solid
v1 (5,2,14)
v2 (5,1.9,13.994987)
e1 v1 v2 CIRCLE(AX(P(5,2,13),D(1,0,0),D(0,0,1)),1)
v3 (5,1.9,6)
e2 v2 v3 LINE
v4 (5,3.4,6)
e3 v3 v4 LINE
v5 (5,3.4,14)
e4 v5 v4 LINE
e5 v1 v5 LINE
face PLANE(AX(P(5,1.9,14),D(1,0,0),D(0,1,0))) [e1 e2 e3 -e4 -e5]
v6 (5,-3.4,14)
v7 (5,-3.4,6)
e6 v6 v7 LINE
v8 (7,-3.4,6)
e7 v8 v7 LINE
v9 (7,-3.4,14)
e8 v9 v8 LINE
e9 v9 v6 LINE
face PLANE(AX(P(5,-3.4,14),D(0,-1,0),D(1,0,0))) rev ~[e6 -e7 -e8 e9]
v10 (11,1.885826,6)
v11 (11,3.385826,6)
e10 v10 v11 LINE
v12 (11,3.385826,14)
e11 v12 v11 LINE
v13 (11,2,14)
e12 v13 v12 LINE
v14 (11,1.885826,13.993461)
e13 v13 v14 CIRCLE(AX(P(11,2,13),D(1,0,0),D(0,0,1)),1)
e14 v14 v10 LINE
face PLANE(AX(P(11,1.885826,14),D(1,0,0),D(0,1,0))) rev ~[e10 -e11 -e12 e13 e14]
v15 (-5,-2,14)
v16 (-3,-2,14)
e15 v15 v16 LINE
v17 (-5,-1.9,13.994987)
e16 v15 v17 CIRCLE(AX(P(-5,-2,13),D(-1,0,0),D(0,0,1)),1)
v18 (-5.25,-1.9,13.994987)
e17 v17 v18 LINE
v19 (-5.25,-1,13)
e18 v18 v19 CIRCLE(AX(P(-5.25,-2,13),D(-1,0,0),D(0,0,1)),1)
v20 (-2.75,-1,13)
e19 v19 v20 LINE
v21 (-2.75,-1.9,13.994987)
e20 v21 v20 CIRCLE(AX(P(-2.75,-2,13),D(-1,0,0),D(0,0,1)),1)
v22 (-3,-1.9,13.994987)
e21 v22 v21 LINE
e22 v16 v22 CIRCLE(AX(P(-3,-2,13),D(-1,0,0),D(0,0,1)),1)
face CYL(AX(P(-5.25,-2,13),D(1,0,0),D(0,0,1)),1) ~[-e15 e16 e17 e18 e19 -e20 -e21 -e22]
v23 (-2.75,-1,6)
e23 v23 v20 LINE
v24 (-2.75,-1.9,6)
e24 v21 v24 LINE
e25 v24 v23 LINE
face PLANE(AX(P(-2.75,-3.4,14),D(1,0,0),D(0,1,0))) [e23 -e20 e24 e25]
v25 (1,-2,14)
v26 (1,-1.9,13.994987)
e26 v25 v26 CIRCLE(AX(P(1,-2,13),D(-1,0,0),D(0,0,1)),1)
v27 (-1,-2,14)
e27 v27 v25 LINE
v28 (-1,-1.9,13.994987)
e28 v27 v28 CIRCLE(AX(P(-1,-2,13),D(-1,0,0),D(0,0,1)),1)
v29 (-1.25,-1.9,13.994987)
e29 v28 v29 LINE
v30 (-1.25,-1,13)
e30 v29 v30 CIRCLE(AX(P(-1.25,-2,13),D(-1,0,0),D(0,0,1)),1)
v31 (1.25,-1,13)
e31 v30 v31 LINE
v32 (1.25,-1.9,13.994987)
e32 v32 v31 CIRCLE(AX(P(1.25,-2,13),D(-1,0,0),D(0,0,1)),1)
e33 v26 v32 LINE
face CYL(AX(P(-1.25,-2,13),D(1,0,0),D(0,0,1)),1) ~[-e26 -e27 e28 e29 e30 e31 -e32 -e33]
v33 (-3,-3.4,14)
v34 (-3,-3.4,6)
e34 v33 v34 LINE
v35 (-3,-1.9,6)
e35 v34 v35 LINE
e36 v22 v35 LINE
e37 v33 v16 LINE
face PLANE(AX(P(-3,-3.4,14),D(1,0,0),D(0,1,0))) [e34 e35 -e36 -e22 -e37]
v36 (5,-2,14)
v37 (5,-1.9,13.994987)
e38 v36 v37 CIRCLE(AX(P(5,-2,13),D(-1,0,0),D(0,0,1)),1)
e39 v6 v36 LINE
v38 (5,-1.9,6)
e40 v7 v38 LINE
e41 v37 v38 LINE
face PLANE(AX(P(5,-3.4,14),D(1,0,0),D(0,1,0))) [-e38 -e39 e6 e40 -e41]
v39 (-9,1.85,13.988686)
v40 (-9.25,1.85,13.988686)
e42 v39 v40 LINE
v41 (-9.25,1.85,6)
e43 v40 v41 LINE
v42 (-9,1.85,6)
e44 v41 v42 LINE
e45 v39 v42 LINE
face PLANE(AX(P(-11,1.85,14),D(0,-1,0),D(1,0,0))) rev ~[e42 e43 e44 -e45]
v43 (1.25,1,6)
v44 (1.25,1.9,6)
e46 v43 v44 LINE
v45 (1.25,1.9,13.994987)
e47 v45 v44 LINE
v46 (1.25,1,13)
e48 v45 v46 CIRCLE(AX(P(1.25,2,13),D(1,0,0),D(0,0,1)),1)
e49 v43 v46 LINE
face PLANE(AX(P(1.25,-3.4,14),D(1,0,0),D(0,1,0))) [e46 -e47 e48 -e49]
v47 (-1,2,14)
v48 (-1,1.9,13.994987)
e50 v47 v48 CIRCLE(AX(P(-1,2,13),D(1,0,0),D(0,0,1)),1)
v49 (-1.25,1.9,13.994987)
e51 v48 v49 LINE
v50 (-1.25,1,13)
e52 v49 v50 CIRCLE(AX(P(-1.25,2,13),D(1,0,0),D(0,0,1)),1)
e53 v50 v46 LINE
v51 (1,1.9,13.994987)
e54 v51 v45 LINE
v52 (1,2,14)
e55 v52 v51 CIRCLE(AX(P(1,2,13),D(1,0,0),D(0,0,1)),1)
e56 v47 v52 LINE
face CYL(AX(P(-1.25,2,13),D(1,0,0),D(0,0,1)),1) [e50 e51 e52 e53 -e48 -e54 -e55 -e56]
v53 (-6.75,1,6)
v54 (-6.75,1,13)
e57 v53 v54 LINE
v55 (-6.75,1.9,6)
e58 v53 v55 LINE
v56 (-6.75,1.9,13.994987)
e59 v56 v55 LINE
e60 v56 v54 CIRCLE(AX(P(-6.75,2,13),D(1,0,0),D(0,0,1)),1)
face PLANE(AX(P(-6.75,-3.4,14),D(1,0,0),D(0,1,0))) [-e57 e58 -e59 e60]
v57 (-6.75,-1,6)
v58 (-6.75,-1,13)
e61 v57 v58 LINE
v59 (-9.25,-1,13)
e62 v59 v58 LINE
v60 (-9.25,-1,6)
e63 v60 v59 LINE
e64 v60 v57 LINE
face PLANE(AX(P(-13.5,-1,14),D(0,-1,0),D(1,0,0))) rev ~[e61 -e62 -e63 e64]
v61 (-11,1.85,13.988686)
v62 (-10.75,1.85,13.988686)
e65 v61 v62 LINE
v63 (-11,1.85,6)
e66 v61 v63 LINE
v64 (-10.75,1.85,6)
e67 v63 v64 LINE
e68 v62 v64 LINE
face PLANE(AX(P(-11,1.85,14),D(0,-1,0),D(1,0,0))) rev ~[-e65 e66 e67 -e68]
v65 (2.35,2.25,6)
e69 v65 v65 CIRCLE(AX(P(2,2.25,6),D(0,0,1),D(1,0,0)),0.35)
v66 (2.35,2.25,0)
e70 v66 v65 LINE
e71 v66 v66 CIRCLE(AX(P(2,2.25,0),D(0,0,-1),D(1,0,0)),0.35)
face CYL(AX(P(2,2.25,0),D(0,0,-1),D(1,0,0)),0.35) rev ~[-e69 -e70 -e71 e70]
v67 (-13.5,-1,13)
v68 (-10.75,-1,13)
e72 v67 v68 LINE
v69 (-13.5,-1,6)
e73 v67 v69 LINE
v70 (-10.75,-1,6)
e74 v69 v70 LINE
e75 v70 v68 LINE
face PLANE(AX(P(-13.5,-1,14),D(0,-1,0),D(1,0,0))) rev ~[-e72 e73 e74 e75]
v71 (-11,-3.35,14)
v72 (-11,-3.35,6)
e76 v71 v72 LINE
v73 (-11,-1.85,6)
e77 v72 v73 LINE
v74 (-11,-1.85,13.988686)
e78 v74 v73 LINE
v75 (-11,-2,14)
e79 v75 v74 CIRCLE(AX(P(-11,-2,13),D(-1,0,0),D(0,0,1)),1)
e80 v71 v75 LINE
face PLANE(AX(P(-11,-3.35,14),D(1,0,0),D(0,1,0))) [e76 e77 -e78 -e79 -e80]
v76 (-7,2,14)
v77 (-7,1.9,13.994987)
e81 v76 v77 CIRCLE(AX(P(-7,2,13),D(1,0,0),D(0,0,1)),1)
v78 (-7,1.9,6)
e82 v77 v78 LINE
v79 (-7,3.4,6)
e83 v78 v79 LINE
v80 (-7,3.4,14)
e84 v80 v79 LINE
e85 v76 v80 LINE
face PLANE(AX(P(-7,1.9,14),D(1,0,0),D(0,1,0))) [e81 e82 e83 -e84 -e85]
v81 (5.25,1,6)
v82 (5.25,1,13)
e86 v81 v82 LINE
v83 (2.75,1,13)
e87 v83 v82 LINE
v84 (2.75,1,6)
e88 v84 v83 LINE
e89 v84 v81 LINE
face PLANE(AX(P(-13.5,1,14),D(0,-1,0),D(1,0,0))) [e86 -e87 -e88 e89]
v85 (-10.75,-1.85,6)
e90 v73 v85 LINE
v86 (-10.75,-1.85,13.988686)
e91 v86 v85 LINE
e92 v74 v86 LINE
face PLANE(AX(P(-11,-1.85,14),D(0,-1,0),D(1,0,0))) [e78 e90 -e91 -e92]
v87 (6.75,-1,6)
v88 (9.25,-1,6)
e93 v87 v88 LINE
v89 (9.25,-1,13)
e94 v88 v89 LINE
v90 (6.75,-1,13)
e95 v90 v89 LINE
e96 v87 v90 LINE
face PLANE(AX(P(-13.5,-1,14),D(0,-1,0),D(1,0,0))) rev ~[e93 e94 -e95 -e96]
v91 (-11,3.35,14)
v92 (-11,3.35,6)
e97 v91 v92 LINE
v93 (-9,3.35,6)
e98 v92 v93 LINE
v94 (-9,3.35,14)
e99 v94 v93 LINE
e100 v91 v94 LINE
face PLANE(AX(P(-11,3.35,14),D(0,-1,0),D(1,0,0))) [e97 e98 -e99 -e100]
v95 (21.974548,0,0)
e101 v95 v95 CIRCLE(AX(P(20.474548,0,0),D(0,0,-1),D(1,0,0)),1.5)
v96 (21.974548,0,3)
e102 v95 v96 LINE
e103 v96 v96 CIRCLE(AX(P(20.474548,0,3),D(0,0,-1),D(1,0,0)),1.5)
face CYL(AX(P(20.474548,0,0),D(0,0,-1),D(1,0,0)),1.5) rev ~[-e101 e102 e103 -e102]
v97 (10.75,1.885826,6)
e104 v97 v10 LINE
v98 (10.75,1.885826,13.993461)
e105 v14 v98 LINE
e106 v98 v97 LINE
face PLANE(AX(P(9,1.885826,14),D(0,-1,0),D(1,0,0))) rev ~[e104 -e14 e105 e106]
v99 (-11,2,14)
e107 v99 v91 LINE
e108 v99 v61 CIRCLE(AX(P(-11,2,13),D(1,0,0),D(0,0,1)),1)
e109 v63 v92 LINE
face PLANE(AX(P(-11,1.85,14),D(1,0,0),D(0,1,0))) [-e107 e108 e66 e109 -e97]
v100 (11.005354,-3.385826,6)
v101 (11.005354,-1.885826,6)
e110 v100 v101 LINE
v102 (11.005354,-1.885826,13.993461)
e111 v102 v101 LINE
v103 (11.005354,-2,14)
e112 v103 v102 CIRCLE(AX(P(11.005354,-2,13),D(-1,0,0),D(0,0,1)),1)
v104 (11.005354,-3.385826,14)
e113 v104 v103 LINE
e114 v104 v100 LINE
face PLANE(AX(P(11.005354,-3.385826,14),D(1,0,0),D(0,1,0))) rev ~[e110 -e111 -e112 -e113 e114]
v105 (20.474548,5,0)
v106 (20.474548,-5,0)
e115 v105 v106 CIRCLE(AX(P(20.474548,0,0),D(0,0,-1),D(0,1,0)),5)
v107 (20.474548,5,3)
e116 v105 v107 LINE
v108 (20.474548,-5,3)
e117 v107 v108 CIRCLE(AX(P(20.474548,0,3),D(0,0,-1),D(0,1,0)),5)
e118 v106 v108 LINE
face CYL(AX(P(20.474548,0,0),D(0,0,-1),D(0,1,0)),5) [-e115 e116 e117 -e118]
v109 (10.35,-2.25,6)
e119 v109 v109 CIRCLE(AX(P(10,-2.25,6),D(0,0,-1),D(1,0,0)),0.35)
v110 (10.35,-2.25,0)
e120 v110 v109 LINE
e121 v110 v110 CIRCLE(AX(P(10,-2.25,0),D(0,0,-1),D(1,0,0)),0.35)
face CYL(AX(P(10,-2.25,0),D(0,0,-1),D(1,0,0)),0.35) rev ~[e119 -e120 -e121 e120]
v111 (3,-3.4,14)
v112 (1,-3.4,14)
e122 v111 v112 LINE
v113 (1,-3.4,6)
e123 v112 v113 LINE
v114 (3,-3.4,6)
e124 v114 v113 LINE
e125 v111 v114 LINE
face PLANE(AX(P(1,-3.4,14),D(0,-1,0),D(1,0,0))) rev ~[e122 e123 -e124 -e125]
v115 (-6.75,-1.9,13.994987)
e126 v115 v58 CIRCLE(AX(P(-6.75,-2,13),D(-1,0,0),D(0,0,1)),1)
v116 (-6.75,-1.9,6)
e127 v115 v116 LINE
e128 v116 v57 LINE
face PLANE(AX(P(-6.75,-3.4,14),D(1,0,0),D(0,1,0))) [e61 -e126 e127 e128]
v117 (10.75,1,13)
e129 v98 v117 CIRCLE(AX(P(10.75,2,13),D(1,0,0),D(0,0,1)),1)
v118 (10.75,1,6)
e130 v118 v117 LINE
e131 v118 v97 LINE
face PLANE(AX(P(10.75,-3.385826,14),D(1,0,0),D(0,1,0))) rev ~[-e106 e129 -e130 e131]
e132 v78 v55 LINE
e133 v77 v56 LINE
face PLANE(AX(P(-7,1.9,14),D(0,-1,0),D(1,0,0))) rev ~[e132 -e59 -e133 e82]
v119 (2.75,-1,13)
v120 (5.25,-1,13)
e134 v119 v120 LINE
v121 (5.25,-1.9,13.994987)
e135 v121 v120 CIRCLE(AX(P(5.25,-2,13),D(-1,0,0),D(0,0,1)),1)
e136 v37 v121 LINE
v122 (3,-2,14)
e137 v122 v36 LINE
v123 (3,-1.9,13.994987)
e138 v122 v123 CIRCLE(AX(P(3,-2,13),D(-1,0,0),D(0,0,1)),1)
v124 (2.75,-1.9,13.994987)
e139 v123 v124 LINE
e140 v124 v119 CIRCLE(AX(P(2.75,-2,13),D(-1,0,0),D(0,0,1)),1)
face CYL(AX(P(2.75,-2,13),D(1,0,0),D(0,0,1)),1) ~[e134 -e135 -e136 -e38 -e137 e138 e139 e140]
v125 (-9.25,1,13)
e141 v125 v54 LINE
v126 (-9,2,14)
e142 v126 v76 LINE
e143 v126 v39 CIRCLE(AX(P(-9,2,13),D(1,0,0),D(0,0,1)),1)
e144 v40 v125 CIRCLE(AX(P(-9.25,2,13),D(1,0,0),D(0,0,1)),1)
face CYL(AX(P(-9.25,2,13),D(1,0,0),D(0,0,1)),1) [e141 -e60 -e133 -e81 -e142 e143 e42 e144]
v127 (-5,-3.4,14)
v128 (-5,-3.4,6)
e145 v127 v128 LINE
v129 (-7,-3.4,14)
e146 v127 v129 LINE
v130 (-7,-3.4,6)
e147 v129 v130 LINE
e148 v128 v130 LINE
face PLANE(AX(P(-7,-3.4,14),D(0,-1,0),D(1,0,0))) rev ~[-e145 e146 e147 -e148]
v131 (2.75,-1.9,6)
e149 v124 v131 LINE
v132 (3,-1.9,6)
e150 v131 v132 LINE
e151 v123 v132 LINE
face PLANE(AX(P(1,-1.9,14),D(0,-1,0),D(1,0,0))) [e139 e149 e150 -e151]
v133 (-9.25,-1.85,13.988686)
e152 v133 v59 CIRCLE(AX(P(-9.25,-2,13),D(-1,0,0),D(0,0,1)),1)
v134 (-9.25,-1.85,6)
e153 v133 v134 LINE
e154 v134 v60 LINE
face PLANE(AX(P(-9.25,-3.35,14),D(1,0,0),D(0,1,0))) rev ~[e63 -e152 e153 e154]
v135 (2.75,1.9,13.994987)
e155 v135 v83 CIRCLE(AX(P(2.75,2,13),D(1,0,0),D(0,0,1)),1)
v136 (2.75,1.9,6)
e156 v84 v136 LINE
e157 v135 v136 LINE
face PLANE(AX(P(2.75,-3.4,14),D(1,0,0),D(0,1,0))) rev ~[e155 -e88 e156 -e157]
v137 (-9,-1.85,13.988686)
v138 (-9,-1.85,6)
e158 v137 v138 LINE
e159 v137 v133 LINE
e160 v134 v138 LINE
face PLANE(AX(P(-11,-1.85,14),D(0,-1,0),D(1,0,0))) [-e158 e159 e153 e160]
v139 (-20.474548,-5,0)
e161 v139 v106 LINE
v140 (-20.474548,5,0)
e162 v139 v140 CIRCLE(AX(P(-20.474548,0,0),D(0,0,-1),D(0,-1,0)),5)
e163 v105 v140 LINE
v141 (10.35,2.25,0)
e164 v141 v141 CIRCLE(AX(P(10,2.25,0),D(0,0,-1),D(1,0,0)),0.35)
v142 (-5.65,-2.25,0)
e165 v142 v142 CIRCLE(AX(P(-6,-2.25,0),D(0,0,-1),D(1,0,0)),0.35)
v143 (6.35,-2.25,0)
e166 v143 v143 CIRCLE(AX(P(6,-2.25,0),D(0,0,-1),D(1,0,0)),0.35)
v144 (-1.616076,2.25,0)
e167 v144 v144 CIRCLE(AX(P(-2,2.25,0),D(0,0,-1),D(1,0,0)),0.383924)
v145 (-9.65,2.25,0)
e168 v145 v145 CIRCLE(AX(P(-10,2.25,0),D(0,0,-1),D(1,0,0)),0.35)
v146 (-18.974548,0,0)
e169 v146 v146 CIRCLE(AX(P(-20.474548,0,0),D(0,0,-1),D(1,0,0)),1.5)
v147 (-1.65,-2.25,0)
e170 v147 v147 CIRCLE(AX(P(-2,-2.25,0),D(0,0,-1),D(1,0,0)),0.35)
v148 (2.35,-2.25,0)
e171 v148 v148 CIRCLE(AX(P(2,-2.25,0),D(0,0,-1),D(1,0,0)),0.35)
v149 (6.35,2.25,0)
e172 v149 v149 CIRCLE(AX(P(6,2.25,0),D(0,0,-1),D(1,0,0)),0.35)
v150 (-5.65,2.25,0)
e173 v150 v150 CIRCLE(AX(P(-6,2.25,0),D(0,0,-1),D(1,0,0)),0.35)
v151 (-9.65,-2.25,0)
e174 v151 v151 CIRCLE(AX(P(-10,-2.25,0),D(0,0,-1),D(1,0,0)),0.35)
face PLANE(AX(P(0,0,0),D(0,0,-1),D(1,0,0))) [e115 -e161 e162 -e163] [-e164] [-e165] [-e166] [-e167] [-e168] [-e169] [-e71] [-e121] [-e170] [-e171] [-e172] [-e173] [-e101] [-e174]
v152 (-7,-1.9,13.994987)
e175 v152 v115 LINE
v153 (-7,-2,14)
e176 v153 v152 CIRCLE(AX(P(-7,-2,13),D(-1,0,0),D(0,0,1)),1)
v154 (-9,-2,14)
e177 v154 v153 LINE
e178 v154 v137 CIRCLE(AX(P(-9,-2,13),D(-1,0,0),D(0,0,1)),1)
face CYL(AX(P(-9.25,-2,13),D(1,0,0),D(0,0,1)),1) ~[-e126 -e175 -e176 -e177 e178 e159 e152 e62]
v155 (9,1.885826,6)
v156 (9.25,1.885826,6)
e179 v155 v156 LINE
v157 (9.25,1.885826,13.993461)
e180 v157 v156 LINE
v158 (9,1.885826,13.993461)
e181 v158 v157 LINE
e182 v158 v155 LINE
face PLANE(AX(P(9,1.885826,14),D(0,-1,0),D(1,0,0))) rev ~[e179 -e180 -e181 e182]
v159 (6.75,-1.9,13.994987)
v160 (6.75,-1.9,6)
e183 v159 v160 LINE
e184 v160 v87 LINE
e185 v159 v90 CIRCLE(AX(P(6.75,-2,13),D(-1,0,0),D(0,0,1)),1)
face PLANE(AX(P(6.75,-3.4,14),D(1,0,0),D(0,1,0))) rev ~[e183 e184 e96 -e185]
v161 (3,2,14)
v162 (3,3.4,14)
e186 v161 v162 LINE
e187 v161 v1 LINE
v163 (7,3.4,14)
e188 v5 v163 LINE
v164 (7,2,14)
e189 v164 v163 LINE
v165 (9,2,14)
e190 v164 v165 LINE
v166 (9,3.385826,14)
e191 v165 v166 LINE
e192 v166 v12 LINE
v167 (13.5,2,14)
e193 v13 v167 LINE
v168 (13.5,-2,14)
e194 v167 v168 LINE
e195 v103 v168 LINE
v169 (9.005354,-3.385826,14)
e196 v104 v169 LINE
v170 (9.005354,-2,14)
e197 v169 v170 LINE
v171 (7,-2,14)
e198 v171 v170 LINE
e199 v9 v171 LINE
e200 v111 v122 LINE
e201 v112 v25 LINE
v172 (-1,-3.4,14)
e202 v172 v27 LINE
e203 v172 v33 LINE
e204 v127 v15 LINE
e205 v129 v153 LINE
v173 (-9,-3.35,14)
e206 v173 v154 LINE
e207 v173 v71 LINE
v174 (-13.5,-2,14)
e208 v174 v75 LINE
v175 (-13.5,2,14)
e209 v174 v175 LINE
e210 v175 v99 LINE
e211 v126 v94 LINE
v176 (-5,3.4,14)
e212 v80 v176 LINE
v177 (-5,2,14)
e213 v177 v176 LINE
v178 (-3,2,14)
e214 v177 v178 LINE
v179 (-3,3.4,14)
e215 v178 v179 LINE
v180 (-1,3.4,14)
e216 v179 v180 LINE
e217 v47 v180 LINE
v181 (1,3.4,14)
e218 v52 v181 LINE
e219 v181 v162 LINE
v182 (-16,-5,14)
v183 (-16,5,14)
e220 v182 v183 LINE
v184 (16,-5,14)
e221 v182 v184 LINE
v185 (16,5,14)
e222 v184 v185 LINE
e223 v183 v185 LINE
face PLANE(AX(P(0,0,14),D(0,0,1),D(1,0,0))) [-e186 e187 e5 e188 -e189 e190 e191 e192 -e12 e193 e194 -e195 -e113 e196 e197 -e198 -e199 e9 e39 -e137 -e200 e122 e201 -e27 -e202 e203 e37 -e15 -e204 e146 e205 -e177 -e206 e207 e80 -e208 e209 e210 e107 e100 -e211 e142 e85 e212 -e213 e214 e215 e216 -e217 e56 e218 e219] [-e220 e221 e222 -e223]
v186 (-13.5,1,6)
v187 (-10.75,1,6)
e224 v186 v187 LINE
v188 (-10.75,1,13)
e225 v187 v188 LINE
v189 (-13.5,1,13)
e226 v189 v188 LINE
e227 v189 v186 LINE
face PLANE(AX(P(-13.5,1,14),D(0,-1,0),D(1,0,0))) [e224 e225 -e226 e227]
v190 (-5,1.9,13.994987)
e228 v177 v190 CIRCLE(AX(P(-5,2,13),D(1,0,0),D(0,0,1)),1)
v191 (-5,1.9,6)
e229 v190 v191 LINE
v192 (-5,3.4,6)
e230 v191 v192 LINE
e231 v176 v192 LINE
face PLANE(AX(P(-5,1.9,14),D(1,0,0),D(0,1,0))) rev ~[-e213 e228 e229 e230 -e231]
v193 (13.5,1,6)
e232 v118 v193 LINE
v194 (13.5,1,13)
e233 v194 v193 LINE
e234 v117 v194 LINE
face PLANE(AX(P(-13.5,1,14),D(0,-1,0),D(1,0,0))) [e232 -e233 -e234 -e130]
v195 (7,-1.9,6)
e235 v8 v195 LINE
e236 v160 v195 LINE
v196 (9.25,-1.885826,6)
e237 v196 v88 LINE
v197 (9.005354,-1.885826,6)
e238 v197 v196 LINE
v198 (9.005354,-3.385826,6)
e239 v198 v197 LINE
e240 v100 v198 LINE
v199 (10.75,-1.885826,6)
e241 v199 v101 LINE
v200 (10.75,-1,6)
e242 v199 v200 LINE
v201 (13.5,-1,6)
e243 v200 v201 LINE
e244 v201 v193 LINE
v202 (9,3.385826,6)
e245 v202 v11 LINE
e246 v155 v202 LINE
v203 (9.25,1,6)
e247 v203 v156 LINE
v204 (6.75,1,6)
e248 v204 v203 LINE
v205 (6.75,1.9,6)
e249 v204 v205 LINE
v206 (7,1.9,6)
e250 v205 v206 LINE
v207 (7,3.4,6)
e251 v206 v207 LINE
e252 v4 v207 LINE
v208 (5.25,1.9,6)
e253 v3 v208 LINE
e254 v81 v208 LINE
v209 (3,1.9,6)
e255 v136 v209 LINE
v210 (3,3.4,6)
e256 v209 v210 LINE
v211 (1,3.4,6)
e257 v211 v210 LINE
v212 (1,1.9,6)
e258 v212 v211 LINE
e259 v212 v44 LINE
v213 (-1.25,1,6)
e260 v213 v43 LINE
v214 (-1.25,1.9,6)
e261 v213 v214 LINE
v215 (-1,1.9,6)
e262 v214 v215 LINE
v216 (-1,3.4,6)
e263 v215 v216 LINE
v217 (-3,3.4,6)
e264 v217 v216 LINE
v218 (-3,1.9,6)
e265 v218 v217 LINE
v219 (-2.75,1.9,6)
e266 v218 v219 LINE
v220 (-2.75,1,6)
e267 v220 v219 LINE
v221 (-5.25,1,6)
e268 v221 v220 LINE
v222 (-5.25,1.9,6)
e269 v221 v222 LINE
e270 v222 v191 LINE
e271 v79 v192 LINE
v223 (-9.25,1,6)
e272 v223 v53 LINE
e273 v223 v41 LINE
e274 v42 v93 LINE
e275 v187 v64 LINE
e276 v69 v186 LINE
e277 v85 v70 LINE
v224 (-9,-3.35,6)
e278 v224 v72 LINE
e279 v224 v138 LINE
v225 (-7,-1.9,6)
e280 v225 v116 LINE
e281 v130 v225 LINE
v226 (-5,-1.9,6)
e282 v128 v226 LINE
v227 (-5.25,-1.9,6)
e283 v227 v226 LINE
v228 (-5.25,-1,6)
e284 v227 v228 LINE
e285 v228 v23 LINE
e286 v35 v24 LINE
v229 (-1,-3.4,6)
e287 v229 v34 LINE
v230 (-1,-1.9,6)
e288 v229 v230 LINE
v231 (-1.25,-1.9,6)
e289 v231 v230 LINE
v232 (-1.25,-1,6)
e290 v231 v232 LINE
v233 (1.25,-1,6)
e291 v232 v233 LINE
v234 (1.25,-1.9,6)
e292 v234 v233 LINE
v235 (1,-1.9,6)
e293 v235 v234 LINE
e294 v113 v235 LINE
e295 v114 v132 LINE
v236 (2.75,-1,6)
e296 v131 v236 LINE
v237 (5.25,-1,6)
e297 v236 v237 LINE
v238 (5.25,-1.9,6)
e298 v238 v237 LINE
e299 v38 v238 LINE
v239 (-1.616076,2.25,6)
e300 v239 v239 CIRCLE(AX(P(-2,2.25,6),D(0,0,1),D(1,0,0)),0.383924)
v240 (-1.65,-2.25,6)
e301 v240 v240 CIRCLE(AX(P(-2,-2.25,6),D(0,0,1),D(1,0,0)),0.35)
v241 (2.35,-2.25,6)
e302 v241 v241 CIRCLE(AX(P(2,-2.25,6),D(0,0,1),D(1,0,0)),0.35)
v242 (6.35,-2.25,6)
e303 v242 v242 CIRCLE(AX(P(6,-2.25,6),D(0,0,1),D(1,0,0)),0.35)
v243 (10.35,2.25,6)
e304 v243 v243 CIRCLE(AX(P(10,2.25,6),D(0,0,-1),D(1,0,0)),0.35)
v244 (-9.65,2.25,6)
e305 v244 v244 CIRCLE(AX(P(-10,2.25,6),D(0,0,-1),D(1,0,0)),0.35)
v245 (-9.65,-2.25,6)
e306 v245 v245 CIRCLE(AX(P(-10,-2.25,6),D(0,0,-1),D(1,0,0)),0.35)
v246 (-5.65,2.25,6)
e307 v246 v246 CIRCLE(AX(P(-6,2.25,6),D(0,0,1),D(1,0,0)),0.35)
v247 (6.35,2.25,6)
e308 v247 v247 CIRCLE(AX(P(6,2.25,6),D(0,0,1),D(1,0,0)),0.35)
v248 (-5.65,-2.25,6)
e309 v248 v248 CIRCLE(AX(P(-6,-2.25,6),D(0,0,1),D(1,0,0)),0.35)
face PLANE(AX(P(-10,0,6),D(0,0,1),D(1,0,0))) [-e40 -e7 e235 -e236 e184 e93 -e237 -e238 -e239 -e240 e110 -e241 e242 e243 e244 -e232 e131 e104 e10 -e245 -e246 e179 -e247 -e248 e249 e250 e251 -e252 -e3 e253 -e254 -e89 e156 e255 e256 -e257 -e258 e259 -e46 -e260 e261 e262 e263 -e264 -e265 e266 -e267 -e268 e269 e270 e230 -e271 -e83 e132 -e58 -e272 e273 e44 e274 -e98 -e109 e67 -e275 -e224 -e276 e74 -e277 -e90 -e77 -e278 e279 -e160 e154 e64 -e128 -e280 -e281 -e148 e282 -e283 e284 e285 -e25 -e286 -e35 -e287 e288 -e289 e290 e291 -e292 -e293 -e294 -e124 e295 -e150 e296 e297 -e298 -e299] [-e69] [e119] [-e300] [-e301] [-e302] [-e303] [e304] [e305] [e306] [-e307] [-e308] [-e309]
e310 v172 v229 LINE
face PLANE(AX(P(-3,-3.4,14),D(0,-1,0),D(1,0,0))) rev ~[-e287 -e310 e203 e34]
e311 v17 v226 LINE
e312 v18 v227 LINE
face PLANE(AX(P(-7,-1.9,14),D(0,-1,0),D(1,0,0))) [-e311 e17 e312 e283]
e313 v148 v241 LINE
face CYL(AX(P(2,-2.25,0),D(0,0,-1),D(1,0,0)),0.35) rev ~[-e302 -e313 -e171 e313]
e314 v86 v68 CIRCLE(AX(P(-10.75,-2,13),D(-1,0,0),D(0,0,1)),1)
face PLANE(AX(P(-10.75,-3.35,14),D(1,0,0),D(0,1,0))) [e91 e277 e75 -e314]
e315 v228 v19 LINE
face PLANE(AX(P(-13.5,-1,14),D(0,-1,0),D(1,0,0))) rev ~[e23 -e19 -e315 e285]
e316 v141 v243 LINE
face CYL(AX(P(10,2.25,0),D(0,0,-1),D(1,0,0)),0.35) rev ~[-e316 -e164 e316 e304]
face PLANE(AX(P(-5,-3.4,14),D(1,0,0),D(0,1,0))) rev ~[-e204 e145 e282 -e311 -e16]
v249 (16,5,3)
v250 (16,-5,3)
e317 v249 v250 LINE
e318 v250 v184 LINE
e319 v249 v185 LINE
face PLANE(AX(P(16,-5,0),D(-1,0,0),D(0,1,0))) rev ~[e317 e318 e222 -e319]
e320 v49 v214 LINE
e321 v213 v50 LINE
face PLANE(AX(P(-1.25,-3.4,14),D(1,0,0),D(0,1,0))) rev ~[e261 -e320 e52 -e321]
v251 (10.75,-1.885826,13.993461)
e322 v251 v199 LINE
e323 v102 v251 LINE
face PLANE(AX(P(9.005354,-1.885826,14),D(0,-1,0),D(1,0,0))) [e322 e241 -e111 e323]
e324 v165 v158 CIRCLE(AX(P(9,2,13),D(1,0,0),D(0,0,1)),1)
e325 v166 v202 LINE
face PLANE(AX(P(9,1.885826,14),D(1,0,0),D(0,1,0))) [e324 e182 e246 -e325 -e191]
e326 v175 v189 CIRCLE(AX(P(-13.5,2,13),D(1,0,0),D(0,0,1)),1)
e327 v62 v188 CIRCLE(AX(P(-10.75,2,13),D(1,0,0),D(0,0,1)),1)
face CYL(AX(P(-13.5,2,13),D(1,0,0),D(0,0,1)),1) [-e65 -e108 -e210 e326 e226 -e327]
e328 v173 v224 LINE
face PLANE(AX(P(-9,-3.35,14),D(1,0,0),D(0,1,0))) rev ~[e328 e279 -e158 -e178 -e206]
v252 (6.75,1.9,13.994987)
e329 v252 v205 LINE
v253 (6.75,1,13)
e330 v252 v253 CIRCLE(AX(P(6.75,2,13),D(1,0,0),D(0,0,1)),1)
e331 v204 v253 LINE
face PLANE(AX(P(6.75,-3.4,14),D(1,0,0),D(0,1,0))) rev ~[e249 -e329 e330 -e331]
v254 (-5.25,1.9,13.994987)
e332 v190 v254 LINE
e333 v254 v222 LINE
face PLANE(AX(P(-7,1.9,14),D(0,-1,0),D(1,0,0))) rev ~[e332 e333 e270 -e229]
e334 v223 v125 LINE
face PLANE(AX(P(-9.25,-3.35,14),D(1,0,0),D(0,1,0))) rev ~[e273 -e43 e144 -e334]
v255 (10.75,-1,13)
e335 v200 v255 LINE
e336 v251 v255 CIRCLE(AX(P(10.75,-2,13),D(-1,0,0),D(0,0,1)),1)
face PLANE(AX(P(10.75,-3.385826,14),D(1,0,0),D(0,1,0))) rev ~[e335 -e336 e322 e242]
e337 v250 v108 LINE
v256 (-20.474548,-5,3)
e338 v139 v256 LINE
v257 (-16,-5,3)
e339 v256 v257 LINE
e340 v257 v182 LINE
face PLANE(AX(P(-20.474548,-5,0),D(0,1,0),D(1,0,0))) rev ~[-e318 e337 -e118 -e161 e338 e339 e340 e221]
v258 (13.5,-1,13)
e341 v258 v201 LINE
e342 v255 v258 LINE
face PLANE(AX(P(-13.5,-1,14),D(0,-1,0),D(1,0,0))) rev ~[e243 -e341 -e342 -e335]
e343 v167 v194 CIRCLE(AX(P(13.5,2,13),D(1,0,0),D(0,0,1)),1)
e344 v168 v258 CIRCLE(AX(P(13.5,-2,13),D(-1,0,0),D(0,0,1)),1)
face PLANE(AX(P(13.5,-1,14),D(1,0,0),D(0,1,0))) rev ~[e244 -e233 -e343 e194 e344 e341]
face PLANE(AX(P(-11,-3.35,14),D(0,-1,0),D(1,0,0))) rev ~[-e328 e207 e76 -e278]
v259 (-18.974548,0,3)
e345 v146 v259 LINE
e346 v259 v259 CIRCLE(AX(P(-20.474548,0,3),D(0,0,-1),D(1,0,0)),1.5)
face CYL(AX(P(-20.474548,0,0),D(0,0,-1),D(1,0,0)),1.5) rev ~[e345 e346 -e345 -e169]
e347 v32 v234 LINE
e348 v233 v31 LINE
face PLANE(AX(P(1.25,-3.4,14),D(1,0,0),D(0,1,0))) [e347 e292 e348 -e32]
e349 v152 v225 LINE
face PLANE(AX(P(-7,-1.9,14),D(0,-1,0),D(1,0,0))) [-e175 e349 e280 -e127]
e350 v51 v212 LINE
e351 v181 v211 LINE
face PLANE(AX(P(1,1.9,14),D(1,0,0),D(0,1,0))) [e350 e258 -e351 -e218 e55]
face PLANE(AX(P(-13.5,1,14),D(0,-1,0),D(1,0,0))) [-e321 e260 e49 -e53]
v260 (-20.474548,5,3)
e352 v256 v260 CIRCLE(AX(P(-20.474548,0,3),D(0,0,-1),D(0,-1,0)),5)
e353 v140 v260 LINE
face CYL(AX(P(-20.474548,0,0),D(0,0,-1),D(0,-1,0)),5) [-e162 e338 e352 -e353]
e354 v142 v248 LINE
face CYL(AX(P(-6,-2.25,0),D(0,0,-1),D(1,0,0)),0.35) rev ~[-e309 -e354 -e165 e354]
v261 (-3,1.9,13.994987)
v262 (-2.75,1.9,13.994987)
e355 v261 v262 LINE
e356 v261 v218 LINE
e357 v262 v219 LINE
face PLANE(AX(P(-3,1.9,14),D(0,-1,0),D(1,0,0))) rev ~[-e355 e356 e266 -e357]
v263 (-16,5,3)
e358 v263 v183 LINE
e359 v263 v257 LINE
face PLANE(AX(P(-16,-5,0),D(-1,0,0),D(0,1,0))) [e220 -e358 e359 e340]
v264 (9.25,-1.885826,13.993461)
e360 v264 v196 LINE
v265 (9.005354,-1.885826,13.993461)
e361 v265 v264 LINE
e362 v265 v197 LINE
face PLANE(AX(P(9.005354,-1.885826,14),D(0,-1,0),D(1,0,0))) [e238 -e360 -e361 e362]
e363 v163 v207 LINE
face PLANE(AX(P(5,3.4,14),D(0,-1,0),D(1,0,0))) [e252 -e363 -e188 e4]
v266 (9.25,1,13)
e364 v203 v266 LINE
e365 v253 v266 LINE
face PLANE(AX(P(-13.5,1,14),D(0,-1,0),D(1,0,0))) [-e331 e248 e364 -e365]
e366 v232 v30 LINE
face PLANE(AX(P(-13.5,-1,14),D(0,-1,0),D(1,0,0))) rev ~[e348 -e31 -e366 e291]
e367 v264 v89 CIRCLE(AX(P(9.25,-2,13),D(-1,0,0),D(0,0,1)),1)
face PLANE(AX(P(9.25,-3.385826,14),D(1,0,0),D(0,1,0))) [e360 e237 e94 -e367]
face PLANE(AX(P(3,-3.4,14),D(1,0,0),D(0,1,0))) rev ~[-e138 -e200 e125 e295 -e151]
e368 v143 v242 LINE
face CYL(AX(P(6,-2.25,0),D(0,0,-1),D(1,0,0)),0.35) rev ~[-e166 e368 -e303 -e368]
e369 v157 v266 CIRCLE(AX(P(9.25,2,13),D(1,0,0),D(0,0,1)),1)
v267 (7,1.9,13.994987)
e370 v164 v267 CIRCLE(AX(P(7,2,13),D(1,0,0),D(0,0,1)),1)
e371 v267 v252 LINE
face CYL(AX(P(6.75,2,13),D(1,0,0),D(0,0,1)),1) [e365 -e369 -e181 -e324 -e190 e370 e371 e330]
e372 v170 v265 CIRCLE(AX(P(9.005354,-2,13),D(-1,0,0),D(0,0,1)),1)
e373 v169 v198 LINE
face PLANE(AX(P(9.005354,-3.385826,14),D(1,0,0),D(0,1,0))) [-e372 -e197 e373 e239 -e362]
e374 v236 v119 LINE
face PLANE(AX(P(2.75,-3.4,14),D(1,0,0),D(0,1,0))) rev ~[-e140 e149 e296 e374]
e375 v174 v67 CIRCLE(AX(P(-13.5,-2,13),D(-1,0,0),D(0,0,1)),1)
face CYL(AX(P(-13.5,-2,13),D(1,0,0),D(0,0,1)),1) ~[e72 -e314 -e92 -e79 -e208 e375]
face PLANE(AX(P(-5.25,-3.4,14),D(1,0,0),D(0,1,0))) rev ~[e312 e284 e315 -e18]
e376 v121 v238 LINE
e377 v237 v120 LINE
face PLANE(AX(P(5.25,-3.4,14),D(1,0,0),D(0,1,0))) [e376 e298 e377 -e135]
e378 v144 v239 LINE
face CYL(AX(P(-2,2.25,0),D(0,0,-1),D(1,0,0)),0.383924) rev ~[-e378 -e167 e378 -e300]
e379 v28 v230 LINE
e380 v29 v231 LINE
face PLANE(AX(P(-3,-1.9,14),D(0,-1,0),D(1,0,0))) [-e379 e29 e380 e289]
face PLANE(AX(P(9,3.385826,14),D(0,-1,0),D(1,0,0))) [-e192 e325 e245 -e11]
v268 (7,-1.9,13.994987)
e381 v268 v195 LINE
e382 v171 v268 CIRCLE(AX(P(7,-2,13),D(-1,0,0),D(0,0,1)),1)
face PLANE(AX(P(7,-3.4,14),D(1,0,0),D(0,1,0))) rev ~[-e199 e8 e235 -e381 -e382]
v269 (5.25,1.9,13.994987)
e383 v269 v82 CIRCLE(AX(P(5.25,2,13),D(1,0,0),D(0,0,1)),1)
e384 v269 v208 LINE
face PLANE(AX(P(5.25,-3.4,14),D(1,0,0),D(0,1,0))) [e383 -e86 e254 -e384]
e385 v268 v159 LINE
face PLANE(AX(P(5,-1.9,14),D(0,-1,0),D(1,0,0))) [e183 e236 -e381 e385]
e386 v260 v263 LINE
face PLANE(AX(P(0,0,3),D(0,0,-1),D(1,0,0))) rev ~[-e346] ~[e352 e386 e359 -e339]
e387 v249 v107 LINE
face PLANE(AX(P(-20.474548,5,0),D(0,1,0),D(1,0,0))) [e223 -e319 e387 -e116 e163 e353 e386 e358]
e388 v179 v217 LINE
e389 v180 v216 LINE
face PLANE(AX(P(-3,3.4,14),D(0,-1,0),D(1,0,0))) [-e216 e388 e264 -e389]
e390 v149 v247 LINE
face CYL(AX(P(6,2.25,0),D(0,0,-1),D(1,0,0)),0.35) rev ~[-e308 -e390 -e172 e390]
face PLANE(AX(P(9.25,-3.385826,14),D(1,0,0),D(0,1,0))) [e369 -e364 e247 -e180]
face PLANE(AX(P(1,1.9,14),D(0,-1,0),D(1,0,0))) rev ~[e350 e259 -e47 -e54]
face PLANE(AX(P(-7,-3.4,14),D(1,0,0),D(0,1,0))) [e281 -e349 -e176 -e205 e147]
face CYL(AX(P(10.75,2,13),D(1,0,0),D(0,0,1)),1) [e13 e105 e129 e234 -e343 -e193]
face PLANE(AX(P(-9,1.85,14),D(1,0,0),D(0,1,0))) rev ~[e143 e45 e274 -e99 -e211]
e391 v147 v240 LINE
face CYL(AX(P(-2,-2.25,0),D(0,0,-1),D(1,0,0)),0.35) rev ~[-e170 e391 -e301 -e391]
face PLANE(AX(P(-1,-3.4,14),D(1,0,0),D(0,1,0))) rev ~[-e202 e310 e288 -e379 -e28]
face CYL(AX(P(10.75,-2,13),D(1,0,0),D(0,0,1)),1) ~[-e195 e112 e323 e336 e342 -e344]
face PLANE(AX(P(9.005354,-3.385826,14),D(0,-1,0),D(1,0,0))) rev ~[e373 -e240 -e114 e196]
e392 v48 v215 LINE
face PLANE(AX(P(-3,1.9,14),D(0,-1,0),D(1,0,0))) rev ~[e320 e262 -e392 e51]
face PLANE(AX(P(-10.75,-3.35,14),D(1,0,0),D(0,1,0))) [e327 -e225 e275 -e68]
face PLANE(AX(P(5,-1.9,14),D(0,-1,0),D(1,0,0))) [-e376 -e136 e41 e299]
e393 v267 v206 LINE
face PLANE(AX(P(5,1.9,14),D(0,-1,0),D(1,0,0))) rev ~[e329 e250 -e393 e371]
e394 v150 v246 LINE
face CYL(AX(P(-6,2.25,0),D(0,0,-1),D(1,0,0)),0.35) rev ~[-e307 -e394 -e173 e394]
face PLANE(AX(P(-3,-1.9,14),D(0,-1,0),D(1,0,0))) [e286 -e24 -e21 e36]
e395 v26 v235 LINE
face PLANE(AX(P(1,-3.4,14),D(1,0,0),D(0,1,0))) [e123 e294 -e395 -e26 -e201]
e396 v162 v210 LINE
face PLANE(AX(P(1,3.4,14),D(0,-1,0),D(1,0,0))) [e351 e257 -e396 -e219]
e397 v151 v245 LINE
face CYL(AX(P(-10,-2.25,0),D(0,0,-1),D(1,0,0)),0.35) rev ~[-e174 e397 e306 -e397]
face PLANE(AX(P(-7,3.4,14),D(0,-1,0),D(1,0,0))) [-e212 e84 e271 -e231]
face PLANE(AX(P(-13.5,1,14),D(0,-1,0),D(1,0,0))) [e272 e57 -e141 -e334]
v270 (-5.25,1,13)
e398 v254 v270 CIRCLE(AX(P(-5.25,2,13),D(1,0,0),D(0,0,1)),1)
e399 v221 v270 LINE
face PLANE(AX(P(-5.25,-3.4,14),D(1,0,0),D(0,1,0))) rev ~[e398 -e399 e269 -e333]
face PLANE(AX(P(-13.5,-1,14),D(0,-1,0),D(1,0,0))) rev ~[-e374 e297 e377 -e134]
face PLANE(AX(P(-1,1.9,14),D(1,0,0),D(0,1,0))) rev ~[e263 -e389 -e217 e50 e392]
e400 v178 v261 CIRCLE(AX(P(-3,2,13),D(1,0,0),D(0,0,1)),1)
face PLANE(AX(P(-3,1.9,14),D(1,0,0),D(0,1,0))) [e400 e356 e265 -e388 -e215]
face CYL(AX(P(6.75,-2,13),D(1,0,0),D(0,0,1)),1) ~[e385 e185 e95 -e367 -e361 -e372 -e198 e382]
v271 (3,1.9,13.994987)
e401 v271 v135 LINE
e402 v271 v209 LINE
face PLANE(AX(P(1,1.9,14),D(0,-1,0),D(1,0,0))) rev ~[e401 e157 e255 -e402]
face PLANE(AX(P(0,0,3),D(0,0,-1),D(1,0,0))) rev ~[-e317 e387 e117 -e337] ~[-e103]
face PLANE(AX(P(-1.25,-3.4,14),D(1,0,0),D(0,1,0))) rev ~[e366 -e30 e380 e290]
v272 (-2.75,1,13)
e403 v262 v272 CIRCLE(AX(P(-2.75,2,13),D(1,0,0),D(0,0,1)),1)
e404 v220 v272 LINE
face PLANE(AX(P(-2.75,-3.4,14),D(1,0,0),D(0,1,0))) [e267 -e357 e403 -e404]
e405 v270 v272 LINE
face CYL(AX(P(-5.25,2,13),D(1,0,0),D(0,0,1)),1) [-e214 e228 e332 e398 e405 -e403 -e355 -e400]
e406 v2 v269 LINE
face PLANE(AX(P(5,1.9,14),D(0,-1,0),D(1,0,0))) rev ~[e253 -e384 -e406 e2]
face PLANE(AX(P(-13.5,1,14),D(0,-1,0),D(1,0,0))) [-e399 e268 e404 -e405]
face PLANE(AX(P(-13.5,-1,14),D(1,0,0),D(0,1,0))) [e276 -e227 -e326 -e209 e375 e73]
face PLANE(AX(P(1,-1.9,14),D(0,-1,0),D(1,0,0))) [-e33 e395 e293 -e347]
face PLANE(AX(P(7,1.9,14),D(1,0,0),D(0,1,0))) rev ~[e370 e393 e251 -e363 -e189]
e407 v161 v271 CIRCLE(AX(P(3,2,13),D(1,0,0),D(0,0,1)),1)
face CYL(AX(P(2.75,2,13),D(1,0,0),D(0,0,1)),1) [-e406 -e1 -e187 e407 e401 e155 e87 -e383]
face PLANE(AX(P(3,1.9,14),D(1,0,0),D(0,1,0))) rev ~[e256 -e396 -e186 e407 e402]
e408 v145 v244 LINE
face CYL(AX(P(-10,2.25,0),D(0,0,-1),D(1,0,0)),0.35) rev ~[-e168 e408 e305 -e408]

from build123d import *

# Parameters (mm, degrees)
SKETCH_W        = 32
SKETCH_H        = 10
PAD_DEPTH       = 14
SKETCH001_R     = 1.5
PAD001_DEPTH    = 3
SKETCH002_W     = 27
SKETCH002_H     = 2
POCKET_DEPTH    = 8
SKETCH003_R     = 0.35
SKETCH003_R_2   = 0.383924
POCKET001_DEPTH = 18
SKETCH004_W     = 1.5
SKETCH004_H     = 6.7
SKETCH004_H_2   = 6.8
SKETCH004_H_3   = 6.771652
POCKET002_DEPTH = 8
SKETCH005_W     = 2
SKETCH005_H     = 1.5
POCKET003_DEPTH = 8
FILLET_R        = 1


with BuildPart() as part:
    # Sketch → Pad (new body)
    with BuildSketch(Plane.XY):
        Rectangle(SKETCH_W, SKETCH_H)
    extrude(amount=PAD_DEPTH)

    # Sketch001 → Pad001 (new body)
    with BuildSketch(Plane(origin=(0, 0, 0), x_dir=(1, 0, 0), z_dir=(0, 0, -1))):
        with BuildLine():
            ThreePointArc((-20.474548, 5), (-25.474548, 0), (-20.474548, -5))
            Line((-20.474548, -5), (20.474548, -5))
            ThreePointArc((20.474548, -5), (25.474548, 0), (20.474548, 5))
            Line((-20.474548, 5), (20.474548, 5))
        make_face()
        with Locations((-20.474548, 0)):
            Circle(SKETCH001_R, mode=Mode.SUBTRACT)
        with Locations((20.474548, 0)):
            Circle(SKETCH001_R, mode=Mode.SUBTRACT)
    extrude(amount=-PAD001_DEPTH)

    # Sketch002 → Pocket (cut)
    with BuildSketch(Plane.XY.offset(14)):
        Rectangle(SKETCH002_W, SKETCH002_H)
    extrude(amount=-POCKET_DEPTH, mode=Mode.SUBTRACT)

    # Sketch003 → Pocket001 (cut)
    with BuildSketch(Plane(origin=(0, 0, 0), x_dir=(1, 0, 0), z_dir=(0, 0, -1))):
        with Locations((-10, 2.25)):
            Circle(SKETCH003_R)
        with Locations((-6, 2.25)):
            Circle(SKETCH003_R)
        with Locations((-2, 2.25)):
            Circle(SKETCH003_R)
        with Locations((2, 2.25)):
            Circle(SKETCH003_R)
        with Locations((6, 2.25)):
            Circle(SKETCH003_R)
        with Locations((10, 2.25)):
            Circle(SKETCH003_R)
        with Locations((-10, -2.25)):
            Circle(SKETCH003_R)
        with Locations((-6, -2.25)):
            Circle(SKETCH003_R)
        with Locations((-2, -2.25)):
            Circle(SKETCH003_R_2)
        with Locations((2, -2.25)):
            Circle(SKETCH003_R)
        with Locations((6, -2.25)):
            Circle(SKETCH003_R)
        with Locations((10, -2.25)):
            Circle(SKETCH003_R)
    extrude(amount=-POCKET001_DEPTH, mode=Mode.SUBTRACT)

    # Sketch004 → Pocket002 (cut)
    with BuildSketch(Plane.XY.offset(14)):
        with Locations((-10, 0)):
            Rectangle(SKETCH004_W, SKETCH004_H)
        with Locations((-6, 0)):
            Rectangle(SKETCH004_W, SKETCH004_H_2)
        with Locations((-2, 0)):
            Rectangle(SKETCH004_W, SKETCH004_H_2)
        with Locations((2, 0)):
            Rectangle(SKETCH004_W, SKETCH004_H_2)
        with Locations((6, 0)):
            Rectangle(SKETCH004_W, SKETCH004_H_2)
        with Locations((10, 0)):
            Rectangle(SKETCH004_W, SKETCH004_H_3)
    extrude(amount=-POCKET002_DEPTH, mode=Mode.SUBTRACT)

    # Sketch005 → Pocket003 (cut)
    with BuildSketch(Plane.XY.offset(14)):
        with Locations((-10, 2.6)):
            Rectangle(SKETCH005_W, SKETCH005_H)
        with Locations((-6, 2.65)):
            Rectangle(SKETCH005_W, SKETCH005_H)
        with Locations((-2, 2.65)):
            Rectangle(SKETCH005_W, SKETCH005_H)
        with Locations((2, 2.65)):
            Rectangle(SKETCH005_W, SKETCH005_H)
        with Locations((6, 2.65)):
            Rectangle(SKETCH005_W, SKETCH005_H)
        with Locations((10, 2.635826)):
            Rectangle(SKETCH005_W, SKETCH005_H)
        with Locations((-10, -2.6)):
            Rectangle(SKETCH005_W, SKETCH005_H)
        with Locations((-6, -2.65)):
            Rectangle(SKETCH005_W, SKETCH005_H)
        with Locations((-2, -2.65)):
            Rectangle(SKETCH005_W, SKETCH005_H)
        with Locations((2, -2.65)):
            Rectangle(SKETCH005_W, SKETCH005_H)
        with Locations((6, -2.65)):
            Rectangle(SKETCH005_W, SKETCH005_H)
        with Locations((10.005354, -2.635826)):
            Rectangle(SKETCH005_W, SKETCH005_H)
    extrude(amount=-POCKET003_DEPTH, mode=Mode.SUBTRACT)

    # Fillet
    fillet_edges = [part.edges().sort_by_distance(p)[0] for p in [
        (-12.125, 1, 14),
        (-8, 1, 14),
        (-4, 1, 14),
        (0, 1, 14),
        (4, 1, 14),
        (8, 1, 14),
        (12.125, 1, 14),
        (12.125, -1, 14),
        (8, -1, 14),
        (4, -1, 14),
        (0, -1, 14),
        (-4, -1, 14),
        (-8, -1, 14),
        (-12.125, -1, 14),
    ]]
    fillet(fillet_edges, radius=FILLET_R)


solid = part.part
